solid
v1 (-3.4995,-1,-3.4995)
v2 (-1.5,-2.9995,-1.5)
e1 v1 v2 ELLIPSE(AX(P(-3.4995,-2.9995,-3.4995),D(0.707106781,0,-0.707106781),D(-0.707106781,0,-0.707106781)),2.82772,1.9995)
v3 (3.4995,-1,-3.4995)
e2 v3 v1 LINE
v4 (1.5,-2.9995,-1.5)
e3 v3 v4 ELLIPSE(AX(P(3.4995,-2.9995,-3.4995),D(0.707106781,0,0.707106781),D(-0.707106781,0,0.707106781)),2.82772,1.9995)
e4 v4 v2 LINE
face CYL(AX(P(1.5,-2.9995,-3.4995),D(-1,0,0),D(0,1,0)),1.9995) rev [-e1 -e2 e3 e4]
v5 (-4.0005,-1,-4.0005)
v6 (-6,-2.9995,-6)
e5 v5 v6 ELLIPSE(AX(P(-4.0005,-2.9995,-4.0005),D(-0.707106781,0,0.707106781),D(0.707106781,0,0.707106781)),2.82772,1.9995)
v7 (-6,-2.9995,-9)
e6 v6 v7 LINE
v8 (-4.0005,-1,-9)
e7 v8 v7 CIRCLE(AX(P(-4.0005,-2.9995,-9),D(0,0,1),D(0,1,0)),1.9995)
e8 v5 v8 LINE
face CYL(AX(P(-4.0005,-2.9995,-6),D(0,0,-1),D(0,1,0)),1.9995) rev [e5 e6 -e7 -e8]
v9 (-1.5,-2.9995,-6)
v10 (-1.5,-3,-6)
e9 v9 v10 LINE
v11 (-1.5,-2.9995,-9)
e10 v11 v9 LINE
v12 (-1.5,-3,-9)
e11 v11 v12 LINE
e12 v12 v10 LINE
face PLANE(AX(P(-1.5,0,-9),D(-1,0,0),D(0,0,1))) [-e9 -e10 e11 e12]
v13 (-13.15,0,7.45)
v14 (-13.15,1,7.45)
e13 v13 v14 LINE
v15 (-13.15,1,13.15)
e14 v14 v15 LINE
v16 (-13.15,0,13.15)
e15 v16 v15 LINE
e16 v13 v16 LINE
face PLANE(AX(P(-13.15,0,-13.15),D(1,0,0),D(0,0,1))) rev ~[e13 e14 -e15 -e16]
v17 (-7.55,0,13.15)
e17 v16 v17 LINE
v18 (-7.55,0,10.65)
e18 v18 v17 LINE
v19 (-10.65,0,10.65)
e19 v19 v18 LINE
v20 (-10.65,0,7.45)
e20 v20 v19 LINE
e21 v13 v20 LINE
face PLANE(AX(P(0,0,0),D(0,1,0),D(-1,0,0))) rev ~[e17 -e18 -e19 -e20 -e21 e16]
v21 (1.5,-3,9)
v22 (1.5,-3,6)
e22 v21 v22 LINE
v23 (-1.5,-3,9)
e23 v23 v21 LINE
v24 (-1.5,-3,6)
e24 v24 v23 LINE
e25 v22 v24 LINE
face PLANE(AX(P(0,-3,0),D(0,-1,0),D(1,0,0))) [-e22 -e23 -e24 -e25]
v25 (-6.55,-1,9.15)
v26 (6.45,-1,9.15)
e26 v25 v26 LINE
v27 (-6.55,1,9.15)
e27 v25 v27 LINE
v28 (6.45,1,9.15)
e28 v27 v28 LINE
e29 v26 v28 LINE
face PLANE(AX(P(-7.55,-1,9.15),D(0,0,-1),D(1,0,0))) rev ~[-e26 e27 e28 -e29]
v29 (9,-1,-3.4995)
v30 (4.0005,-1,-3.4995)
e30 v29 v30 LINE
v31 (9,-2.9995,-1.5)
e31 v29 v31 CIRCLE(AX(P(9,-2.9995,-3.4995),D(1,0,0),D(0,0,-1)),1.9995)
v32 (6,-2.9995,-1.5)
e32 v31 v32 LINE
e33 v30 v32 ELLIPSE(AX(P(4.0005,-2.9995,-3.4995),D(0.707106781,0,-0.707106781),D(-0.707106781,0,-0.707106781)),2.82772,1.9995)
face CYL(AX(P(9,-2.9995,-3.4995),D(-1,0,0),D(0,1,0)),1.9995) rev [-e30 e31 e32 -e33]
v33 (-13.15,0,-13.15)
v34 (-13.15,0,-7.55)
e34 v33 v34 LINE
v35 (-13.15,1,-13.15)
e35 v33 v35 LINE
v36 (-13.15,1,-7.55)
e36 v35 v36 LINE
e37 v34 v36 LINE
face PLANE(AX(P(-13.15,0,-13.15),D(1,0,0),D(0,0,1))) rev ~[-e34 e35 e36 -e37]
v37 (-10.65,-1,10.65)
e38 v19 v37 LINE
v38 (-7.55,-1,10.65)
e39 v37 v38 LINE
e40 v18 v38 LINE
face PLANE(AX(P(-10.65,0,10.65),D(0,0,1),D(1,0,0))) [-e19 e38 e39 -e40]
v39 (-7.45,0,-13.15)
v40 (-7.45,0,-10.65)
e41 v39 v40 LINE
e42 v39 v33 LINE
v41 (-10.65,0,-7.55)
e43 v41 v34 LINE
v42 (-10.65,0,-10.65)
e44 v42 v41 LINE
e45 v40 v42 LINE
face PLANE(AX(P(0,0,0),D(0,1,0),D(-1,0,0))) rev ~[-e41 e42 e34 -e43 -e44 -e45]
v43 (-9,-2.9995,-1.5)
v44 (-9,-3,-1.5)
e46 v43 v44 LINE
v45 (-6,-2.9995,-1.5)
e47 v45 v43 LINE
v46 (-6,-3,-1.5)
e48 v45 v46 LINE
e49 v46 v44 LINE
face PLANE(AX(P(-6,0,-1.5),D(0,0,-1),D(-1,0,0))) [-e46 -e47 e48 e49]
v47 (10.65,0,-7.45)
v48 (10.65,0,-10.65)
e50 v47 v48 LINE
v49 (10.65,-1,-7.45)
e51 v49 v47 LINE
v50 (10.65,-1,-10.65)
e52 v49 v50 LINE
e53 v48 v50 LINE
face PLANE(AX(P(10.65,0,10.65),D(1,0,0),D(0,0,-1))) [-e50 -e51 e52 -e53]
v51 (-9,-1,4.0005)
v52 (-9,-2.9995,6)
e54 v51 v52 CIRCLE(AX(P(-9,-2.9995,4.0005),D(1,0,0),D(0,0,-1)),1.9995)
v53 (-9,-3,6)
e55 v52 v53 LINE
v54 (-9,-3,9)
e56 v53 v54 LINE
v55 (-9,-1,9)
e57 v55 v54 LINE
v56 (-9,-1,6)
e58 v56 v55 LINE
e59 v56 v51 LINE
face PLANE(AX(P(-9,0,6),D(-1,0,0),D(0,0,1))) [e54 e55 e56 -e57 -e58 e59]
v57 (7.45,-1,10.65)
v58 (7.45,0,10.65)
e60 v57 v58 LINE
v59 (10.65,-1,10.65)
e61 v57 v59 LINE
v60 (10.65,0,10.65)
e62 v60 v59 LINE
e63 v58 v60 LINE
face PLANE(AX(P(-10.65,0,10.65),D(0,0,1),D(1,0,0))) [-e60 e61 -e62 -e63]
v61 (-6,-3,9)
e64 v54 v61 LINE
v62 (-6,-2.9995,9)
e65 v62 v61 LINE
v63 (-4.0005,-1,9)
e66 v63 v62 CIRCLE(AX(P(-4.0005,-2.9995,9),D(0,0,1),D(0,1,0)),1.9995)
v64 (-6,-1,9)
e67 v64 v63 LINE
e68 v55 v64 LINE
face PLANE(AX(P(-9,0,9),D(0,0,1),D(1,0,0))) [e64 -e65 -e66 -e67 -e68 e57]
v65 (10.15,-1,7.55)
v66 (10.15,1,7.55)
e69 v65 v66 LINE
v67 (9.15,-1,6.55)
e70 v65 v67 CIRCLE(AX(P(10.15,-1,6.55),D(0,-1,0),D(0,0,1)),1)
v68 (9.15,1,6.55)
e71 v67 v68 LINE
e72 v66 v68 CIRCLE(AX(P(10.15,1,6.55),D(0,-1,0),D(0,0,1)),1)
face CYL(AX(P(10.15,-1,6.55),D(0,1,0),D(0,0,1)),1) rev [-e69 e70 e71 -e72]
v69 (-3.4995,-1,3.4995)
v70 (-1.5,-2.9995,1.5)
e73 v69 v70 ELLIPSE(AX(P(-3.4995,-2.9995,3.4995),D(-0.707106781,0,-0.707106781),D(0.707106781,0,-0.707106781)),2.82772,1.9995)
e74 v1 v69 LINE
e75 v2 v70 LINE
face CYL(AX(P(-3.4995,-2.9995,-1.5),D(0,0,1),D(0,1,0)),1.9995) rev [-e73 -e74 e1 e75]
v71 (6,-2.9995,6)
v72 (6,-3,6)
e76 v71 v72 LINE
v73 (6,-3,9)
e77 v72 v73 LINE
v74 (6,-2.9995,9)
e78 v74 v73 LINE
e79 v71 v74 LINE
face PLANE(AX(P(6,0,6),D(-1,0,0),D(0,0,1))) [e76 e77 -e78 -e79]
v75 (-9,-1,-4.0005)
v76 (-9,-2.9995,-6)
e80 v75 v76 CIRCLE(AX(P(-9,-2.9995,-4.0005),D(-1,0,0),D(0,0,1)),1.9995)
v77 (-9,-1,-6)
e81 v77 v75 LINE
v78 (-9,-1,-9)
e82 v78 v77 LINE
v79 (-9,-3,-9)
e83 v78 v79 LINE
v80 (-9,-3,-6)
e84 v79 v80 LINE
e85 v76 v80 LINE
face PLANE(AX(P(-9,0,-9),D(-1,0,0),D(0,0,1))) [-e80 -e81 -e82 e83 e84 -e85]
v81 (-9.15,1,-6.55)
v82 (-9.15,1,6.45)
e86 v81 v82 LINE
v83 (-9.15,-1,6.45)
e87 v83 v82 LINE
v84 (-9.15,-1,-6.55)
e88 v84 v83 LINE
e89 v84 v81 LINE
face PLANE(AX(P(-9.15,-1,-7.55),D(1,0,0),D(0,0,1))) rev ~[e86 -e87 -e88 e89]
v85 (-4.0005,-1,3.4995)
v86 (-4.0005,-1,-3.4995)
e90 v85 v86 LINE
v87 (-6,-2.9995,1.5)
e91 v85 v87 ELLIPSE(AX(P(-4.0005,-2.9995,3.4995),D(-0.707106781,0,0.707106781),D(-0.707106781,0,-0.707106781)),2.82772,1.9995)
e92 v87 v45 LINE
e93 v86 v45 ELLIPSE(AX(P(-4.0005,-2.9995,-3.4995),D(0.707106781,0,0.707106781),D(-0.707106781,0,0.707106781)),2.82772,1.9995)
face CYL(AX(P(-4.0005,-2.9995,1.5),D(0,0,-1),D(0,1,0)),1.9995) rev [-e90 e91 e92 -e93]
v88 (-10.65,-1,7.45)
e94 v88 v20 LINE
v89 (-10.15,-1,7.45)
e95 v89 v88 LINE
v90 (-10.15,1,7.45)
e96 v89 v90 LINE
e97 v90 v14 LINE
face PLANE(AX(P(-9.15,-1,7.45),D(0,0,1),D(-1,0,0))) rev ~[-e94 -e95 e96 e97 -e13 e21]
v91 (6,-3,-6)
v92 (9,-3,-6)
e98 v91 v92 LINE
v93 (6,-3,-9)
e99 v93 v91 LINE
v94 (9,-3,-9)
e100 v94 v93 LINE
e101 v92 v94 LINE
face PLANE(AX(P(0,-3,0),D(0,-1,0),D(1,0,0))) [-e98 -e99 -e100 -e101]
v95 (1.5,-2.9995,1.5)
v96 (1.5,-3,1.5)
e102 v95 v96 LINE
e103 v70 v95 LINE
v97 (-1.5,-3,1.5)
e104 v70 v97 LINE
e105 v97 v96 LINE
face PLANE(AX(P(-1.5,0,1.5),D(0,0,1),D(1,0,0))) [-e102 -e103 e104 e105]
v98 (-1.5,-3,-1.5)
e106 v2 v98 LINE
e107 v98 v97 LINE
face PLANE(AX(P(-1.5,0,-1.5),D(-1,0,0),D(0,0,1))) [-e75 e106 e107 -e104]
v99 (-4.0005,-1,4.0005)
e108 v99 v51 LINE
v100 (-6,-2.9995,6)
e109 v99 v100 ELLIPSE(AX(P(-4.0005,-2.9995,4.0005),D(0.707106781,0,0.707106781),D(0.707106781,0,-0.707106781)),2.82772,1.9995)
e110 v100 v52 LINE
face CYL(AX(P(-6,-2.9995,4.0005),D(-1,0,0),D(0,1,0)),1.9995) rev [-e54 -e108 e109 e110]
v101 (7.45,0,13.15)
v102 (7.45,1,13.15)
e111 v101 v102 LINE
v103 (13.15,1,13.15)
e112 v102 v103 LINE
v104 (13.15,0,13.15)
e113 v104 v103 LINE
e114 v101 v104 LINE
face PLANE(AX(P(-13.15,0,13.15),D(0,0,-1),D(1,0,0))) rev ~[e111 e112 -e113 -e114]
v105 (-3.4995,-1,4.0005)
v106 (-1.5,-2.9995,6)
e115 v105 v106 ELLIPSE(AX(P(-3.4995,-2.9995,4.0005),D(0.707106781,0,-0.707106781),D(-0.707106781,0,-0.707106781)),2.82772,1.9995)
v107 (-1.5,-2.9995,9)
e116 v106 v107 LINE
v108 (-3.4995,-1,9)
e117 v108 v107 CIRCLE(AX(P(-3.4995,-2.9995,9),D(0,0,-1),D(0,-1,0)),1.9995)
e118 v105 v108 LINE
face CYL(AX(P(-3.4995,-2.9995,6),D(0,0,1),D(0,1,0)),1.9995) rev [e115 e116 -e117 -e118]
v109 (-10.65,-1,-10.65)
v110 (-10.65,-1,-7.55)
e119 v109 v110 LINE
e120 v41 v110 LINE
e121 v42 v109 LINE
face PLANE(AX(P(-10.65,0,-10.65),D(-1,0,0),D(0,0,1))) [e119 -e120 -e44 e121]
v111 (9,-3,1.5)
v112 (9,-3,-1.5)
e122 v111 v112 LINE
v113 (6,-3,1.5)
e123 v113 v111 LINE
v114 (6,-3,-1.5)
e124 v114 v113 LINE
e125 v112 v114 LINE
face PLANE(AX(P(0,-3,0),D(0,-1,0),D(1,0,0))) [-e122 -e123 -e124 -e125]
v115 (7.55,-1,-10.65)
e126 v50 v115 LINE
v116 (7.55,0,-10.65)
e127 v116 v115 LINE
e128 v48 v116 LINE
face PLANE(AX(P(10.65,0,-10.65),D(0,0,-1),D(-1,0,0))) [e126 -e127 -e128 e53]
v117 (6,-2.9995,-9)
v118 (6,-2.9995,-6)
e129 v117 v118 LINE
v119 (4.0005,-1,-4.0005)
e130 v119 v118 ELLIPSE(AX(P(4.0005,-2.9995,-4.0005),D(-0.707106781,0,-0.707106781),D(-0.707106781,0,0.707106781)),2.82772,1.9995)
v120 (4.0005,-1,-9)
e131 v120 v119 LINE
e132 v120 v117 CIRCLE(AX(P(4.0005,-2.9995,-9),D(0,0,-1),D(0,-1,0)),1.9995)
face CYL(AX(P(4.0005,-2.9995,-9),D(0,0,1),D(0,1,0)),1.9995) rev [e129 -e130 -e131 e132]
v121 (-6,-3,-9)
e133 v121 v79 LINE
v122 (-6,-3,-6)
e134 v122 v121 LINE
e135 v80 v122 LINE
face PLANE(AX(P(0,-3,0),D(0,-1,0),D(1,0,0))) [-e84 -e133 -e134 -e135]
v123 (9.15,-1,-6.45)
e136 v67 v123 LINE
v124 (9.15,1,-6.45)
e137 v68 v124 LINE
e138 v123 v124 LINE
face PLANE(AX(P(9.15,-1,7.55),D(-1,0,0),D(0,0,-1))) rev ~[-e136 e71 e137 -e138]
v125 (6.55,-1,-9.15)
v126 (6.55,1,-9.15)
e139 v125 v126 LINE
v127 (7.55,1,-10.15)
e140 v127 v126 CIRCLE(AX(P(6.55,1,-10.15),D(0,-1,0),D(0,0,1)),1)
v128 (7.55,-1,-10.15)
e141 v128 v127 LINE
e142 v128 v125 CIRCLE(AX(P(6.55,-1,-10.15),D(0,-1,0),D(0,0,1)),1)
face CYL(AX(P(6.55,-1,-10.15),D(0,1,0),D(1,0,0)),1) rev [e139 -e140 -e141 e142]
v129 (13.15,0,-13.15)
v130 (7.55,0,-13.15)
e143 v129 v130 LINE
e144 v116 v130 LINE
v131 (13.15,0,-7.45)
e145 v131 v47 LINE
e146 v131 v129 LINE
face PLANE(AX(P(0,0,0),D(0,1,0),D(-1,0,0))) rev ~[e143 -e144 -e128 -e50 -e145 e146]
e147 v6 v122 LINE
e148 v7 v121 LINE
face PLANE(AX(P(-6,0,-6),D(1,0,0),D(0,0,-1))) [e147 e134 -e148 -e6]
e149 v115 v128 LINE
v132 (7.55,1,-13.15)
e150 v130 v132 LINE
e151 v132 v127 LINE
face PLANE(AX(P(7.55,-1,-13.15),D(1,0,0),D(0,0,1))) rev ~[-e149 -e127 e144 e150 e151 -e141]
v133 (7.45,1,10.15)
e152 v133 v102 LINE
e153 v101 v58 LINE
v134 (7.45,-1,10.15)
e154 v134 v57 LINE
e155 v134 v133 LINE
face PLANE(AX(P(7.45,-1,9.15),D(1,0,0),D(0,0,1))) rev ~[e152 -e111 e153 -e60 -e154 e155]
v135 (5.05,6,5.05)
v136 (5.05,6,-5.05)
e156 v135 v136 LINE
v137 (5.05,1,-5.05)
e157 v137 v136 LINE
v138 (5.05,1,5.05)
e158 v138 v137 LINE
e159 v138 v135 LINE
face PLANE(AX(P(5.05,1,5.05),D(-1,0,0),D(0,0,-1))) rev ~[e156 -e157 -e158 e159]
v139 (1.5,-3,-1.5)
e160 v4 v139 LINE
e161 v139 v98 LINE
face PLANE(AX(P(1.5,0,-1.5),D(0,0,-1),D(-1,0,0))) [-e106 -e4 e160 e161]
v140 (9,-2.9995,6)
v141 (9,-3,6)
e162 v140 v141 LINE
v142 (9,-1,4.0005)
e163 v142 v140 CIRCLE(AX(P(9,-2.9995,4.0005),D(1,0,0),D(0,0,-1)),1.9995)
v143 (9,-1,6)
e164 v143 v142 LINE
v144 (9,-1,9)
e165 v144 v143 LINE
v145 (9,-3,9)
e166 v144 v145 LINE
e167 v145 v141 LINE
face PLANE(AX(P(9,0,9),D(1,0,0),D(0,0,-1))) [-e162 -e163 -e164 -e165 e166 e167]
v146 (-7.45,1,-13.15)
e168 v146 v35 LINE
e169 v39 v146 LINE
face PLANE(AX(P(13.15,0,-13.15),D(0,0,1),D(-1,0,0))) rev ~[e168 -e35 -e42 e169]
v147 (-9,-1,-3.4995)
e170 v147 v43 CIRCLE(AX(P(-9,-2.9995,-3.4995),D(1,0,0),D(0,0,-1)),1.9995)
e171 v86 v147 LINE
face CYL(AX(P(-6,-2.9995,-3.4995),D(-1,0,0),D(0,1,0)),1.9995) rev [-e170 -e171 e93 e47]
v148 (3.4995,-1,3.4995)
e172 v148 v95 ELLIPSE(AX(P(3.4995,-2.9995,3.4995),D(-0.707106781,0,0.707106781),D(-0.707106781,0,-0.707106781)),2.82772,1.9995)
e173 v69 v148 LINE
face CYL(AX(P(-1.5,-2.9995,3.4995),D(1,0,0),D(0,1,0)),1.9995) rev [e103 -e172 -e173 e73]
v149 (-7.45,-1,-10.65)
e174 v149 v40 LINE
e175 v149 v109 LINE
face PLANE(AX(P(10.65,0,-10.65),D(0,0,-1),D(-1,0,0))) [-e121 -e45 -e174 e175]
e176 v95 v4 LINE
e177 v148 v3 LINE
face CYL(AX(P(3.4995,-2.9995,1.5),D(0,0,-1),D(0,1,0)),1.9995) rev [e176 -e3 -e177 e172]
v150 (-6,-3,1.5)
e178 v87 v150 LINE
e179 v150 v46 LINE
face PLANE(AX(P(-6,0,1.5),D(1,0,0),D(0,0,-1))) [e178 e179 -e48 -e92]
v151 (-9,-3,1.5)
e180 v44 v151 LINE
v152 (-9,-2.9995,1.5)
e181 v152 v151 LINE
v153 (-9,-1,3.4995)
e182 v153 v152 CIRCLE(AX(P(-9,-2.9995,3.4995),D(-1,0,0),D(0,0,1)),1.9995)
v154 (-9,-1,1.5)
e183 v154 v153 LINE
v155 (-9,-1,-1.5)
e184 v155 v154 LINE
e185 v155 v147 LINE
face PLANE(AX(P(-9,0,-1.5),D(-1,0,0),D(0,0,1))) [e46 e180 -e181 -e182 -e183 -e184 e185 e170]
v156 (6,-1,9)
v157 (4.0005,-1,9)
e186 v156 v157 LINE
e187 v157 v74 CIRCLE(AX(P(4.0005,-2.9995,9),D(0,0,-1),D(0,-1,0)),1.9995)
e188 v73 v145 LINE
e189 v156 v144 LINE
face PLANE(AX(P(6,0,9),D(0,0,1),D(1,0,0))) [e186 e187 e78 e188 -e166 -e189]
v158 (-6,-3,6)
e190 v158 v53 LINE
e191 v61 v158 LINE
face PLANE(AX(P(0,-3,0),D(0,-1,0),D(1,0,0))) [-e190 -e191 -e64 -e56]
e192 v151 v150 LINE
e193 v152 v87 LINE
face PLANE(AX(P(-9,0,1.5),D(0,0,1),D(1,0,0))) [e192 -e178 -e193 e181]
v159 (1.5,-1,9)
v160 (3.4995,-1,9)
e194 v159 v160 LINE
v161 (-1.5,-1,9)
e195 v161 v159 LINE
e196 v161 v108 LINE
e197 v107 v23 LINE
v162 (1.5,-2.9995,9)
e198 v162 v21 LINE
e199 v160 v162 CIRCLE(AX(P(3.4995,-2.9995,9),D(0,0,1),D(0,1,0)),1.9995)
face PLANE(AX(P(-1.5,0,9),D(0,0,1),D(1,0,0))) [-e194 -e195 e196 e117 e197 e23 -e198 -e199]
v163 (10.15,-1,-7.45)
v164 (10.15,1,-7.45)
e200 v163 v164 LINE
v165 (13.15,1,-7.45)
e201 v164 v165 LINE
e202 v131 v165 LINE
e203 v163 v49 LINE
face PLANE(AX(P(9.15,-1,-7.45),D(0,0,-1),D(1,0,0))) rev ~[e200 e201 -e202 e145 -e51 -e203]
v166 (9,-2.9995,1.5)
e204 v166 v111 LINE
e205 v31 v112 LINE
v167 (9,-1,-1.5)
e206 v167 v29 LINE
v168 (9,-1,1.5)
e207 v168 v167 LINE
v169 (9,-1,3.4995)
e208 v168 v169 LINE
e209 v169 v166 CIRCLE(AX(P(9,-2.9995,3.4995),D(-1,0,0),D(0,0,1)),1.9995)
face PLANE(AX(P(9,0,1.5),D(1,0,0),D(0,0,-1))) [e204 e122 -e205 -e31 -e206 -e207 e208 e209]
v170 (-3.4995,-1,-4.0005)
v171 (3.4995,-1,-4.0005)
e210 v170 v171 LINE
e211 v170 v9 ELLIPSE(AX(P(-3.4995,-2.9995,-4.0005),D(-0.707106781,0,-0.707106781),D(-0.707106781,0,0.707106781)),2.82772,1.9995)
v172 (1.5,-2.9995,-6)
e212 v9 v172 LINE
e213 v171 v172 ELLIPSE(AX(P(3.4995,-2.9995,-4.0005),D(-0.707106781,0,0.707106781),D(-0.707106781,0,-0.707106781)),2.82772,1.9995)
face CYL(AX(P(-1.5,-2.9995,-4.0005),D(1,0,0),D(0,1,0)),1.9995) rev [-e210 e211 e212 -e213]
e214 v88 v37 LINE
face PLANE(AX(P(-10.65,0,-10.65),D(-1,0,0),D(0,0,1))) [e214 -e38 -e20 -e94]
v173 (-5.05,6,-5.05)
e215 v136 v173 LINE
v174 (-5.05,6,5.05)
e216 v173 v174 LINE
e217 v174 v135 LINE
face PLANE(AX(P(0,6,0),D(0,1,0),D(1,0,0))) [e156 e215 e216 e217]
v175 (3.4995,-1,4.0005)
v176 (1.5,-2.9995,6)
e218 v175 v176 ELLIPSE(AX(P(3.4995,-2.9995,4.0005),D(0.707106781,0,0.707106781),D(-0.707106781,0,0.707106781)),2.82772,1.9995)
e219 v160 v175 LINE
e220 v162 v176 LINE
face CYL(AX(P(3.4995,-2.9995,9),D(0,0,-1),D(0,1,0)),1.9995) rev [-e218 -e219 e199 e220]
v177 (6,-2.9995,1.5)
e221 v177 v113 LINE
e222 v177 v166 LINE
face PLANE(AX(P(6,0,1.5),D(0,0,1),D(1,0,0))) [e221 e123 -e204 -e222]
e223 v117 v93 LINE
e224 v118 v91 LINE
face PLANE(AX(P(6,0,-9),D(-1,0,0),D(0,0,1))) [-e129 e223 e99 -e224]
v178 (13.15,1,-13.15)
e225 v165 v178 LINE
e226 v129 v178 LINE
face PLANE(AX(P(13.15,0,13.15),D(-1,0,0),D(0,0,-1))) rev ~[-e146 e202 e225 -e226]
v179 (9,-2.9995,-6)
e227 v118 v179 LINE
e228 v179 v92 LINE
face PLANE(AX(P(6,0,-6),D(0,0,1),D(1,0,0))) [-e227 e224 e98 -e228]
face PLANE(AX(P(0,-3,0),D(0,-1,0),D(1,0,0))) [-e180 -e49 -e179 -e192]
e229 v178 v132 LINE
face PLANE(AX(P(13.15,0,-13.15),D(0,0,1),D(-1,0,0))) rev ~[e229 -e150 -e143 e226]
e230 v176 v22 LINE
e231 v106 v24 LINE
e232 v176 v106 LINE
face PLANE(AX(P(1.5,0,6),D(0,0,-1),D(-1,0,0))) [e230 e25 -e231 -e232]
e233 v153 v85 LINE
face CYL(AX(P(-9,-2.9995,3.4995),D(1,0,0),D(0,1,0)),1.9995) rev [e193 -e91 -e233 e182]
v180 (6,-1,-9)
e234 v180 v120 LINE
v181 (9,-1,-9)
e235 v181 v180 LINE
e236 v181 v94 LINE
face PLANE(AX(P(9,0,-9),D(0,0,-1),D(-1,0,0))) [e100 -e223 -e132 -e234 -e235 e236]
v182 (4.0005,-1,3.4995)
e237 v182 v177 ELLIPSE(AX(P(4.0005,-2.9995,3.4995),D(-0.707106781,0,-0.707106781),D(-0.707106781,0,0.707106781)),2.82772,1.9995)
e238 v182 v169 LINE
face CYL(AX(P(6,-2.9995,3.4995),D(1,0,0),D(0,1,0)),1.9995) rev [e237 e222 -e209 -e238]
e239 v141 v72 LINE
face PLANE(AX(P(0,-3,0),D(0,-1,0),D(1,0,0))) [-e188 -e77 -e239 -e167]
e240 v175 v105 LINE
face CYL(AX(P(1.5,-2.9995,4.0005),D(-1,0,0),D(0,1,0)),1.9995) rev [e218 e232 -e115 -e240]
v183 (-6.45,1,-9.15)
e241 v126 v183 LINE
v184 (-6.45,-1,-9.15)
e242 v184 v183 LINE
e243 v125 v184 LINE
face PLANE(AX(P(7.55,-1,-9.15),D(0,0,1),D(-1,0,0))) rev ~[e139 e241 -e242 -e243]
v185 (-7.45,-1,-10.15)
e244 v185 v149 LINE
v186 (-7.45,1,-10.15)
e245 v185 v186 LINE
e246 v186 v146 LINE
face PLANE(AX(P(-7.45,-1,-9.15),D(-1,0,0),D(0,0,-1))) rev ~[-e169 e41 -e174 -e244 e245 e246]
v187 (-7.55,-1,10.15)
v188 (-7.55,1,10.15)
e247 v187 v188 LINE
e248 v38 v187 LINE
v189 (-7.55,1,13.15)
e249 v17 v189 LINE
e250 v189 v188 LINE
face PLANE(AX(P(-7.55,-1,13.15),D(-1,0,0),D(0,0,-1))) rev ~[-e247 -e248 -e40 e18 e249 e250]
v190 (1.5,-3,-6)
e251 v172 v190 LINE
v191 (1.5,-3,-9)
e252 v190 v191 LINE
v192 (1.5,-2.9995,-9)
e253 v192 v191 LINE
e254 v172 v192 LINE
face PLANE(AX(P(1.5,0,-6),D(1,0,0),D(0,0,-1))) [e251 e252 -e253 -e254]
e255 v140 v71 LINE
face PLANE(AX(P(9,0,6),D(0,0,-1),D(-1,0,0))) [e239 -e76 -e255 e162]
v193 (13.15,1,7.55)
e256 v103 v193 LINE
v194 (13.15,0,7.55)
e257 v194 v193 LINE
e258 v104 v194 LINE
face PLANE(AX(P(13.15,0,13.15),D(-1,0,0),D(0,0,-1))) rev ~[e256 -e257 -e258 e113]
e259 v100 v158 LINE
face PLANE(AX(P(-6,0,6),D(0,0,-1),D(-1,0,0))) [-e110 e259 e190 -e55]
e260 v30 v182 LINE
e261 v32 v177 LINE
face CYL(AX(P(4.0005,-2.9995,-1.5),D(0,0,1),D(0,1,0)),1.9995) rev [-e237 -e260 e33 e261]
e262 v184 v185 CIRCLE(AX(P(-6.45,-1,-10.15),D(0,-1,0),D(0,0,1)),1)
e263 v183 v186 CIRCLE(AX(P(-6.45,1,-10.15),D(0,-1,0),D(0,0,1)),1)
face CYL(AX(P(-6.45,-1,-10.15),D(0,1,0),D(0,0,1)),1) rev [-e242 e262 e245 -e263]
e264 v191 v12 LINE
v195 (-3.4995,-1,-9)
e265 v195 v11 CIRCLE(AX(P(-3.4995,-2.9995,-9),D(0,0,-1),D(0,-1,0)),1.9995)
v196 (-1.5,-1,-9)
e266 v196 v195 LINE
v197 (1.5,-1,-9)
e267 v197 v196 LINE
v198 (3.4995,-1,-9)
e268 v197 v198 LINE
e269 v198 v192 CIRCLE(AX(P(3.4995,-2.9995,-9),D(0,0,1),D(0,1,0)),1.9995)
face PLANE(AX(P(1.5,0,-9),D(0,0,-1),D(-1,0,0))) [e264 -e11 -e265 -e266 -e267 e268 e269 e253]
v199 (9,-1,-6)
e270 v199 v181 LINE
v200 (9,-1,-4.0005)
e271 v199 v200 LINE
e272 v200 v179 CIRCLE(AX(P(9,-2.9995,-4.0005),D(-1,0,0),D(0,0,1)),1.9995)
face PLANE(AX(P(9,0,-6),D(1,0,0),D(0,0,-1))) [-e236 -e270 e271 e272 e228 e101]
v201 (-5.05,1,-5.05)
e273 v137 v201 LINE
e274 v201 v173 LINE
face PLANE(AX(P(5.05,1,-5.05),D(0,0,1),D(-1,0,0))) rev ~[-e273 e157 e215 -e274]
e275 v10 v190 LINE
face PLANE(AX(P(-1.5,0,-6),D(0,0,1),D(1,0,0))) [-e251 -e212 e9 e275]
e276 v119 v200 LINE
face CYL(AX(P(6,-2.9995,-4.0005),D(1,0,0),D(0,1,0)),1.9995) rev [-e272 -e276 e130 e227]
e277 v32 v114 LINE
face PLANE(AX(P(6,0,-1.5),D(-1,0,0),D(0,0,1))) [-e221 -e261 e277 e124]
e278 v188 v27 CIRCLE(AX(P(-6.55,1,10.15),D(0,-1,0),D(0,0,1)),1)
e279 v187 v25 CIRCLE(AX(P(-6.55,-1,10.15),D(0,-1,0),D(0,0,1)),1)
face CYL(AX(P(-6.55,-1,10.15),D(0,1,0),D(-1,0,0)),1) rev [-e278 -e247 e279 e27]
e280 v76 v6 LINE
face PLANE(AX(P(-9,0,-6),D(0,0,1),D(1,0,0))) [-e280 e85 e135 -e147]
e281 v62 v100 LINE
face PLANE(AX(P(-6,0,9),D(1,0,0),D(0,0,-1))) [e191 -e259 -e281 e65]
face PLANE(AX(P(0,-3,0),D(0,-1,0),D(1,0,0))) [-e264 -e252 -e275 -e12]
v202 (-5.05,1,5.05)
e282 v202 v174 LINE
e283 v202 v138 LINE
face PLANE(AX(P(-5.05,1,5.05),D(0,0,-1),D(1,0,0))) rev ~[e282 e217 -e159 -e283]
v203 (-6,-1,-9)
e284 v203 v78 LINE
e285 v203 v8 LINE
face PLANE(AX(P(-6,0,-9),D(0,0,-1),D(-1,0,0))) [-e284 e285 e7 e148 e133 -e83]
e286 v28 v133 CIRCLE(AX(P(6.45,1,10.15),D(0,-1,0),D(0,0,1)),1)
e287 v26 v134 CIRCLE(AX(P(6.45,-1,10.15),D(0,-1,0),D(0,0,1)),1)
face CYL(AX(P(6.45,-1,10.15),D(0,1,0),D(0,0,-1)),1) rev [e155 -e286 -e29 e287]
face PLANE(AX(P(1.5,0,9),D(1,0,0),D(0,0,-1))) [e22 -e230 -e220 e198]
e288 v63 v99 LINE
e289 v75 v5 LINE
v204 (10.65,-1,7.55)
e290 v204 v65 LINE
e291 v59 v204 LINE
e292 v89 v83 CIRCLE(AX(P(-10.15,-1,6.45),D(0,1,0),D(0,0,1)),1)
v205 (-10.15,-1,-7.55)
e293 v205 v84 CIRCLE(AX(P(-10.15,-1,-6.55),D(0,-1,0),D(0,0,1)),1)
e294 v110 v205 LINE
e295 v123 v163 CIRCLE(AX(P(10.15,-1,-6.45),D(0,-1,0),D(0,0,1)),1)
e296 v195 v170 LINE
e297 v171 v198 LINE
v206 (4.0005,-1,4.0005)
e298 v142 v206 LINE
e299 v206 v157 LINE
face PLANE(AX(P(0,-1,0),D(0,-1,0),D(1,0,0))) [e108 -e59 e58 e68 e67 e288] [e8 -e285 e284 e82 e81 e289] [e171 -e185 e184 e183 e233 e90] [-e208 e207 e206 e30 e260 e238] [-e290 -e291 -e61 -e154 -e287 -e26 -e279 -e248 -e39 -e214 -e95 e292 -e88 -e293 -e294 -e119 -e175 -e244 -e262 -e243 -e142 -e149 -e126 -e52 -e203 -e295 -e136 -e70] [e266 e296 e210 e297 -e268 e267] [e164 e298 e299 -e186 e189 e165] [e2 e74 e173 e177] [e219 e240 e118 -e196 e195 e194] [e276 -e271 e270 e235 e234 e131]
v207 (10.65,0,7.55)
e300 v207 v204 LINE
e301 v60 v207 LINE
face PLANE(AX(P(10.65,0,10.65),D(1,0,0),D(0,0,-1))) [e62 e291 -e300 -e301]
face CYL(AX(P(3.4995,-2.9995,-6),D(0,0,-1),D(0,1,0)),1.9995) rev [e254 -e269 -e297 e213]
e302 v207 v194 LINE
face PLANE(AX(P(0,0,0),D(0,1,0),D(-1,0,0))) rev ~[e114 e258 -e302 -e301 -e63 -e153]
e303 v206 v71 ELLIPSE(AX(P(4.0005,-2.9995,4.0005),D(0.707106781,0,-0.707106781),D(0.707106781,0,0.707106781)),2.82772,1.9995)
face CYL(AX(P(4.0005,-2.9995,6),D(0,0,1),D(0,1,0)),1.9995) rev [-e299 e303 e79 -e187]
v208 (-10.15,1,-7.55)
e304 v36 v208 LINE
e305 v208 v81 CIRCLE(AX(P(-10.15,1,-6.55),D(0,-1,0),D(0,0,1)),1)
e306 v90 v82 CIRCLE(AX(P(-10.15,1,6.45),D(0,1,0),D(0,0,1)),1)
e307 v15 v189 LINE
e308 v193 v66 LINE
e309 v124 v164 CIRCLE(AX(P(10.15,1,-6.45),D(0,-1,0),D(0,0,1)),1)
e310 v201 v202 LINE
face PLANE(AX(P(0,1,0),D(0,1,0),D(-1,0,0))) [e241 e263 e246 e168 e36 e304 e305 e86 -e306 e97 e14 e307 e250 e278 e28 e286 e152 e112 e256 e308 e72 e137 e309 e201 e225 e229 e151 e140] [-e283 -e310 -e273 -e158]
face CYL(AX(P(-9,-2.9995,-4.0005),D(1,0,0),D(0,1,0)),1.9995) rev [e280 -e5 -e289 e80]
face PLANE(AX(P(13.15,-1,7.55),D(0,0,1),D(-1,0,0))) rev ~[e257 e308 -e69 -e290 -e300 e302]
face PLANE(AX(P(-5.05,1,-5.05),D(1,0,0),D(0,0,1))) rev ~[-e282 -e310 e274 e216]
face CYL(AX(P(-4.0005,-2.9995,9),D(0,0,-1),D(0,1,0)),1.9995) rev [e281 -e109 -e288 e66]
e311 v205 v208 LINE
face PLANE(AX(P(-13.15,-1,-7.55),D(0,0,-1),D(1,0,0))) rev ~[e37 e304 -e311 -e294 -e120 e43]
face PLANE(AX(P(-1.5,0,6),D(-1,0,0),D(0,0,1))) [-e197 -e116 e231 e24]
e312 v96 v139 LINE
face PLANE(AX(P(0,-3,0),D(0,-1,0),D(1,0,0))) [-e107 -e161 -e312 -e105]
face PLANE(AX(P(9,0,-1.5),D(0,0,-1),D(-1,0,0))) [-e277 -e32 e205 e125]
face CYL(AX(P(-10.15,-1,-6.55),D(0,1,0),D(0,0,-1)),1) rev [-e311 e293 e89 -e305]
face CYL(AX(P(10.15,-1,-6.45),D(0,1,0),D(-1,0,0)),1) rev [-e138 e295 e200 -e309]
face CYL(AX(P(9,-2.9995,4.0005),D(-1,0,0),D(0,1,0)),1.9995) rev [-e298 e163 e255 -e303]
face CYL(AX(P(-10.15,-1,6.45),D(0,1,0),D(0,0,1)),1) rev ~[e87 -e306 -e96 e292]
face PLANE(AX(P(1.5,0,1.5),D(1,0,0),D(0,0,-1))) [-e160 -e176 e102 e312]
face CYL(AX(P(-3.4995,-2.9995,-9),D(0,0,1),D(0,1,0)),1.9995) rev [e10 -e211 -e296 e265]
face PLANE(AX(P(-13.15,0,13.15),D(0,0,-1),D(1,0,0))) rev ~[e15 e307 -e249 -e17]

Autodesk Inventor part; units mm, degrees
ref_plane "YZ Plane" through (0, 0, 0) normal (1, 0, 0) x (0, 1, 0)
ref_plane "XZ Plane" through (0, 0, 0) normal (0, 1, 0) x (-1, 0, 0)
ref_plane "XY Plane" through (0, 0, 0) normal (0, 0, 1) x (1, 0, 0)
sketch "Sketch1" plane through (0, 0, 0) normal (0, 1, 0) x (-1, 0, 0)
  line L0 (13.15, 13.15) -> (-13.15, 13.15)
  line L1 (-13.15, 13.15) -> (-13.15, -13.15)
  line L2 (-13.15, -13.15) -> (13.15, -13.15)
  line L3 (13.15, -13.15) -> (13.15, 13.15)
  line L4 (13.15, 13.15) -> (-13.15, -13.15) construction
  line L5 (-13.15, 13.15) -> (13.15, -13.15) construction
  point P0 (0, 0)
  dimension "d0" = 26.3
  dimension "d1" = 26.3
extrude "Extrusion1" add sketch "Sketch1" along normal blind 1
sketch "Sketch3" plane through (0, 0, 0) normal (0, -1, 0) x (1, 0, 0)
  line L0 (-10.75, -10.75) -> (10.75, -10.75) construction
  line L1 (10.75, -10.75) -> (10.75, 10.75) construction
  line L2 (10.75, 10.75) -> (-10.75, 10.75) construction
  line L3 (-10.75, 10.75) -> (-10.75, -10.75) construction
  line L4 (-10.75, -10.75) -> (10.75, 10.75) construction
  line L5 (10.75, -10.75) -> (-10.75, 10.75) construction
  line L6 (-10.75, 10.75) -> (-4.25, 10.75) construction
  line L7 (-4.25, 10.75) -> (-4.25, 4.25) construction
  line L8 (-4.25, 4.25) -> (-10.75, 4.25) construction
  line L9 (-10.75, 4.25) -> (-10.75, 10.75) construction
  line L10 (-6, 6) -> (-9, 6)
  line L11 (-9, 6) -> (-9, 9)
  line L12 (-9, 9) -> (-6, 9)
  line L13 (-6, 9) -> (-6, 6)
  line L14 (-6, 6) -> (-9, 9) construction
  line L15 (-9, 6) -> (-6, 9) construction
  line L16 (-1.5, 9) -> (1.5, 9)
  line L17 (-1.5, 6) -> (-1.5, 9)
  line L18 (1.5, 6) -> (-1.5, 6)
  line L19 (1.5, 9) -> (1.5, 6)
  line L20 (6, 9) -> (9, 9)
  line L21 (6, 6) -> (6, 9)
  line L22 (9, 6) -> (6, 6)
  line L23 (9, 9) -> (9, 6)
  line L24 (-9, 1.5) -> (-6, 1.5)
  line L25 (-9, -1.5) -> (-9, 1.5)
  line L26 (-6, -1.5) -> (-9, -1.5)
  line L27 (-6, 1.5) -> (-6, -1.5)
  line L28 (-1.5, 1.5) -> (1.5, 1.5)
  line L29 (-1.5, -1.5) -> (-1.5, 1.5)
  line L30 (1.5, -1.5) -> (-1.5, -1.5)
  line L31 (1.5, 1.5) -> (1.5, -1.5)
  line L32 (6, 1.5) -> (9, 1.5)
  line L33 (6, -1.5) -> (6, 1.5)
  line L34 (9, -1.5) -> (6, -1.5)
  line L35 (9, 1.5) -> (9, -1.5)
  line L36 (-9, -6) -> (-6, -6)
  line L37 (-9, -9) -> (-9, -6)
  line L38 (-6, -9) -> (-9, -9)
  line L39 (-6, -6) -> (-6, -9)
  line L40 (-1.5, -6) -> (1.5, -6)
  line L41 (-1.5, -9) -> (-1.5, -6)
  line L42 (1.5, -9) -> (-1.5, -9)
  line L43 (1.5, -6) -> (1.5, -9)
  line L44 (6, -6) -> (9, -6)
  line L45 (6, -9) -> (6, -6)
  line L46 (9, -9) -> (6, -9)
  line L47 (9, -6) -> (9, -9)
  point P0 (0, 0)
  point P1 (-7.5, 7.5)
  dimension "d8" = 21.5
  dimension "d9" = 6.5
  dimension "d10" = 6.5
  dimension "d11" = 3
  dimension "d12" = 3.25
  dimension "d15" = 7.5
  dimension "d18" = 7.5
extrude "Extrusion3" add sketch "Sketch3" along normal blind 3
sketch "Sketch5" plane through (0, 1, 0) normal (0, 1, 0) x (1, 0, 0)
  line L0 (-5.05, -5.05) -> (5.05, -5.05)
  line L1 (5.05, -5.05) -> (5.05, 5.05)
  line L2 (5.05, 5.05) -> (-5.05, 5.05)
  line L3 (-5.05, 5.05) -> (-5.05, -5.05)
  line L4 (-5.05, -5.05) -> (5.05, 5.05) construction
  line L5 (5.05, -5.05) -> (-5.05, 5.05) construction
  point P0 (0, 0)
  dimension "d23" = 10.1
  dimension "d24" = 10.1
extrude "Extrusion4" add sketch "Sketch5" along normal blind 5
sketch "Sketch6" plane through (0, 0, 0) normal (0, -1, 0) x (1, 0, 0)
  line L0 (-10.65, 10.65) -> (10.65, 10.65)
  line L1 (10.65, 10.65) -> (10.65, -10.65)
  line L2 (10.65, -10.65) -> (-10.65, -10.65)
  line L3 (-10.65, -10.65) -> (-10.65, 10.65)
  line L4 (-10.65, 10.65) -> (10.65, -10.65) construction
  line L5 (10.65, 10.65) -> (-10.65, -10.65) construction
  point P0 (0, 0)
  dimension "d27" = 21.3
  dimension "d28" = 21.3
extrude "Extrusion5" add sketch "Sketch6" along normal blind 1
sketch "Sketch7" plane through (0, -1, 0) normal (0, -1, 0) x (1, 0, 0)
  line L0 (-13.15, 13.15) -> (13.15, 13.15) projected
  line L1 (-7.55, 9.15) -> (7.45, 9.15)
  line L2 (7.45, 9.15) -> (7.45, 13.15)
  line L3 (7.45, 13.15) -> (-7.55, 13.15)
  line L4 (-7.55, 13.15) -> (-7.55, 9.15)
  line L5 (-7.55, 9.15) -> (7.45, 13.15) construction
  line L6 (7.45, 9.15) -> (-7.55, 13.15) construction
  line L7 (-9.15, 7.45) -> (-13.15, 7.45)
  line L8 (-13.15, 7.45) -> (-13.15, -7.55)
  line L9 (-9.15, -7.55) -> (-9.15, 7.45)
  line L10 (-13.15, -7.55) -> (-9.15, -7.55)
  line L11 (-7.45, -9.15) -> (-7.45, -13.15)
  line L12 (-7.45, -13.15) -> (7.55, -13.15)
  line L13 (7.55, -9.15) -> (-7.45, -9.15)
  line L14 (7.55, -13.15) -> (7.55, -9.15)
  line L15 (9.15, -7.45) -> (13.15, -7.45)
  line L16 (13.15, -7.45) -> (13.15, 7.55)
  line L17 (9.15, 7.55) -> (9.15, -7.45)
  line L18 (13.15, 7.55) -> (9.15, 7.55)
  point P0 (0, 0)
  point P1 (-0.05, 11.15)
  dimension "d31" = 4
  dimension "d32" = 15
  dimension "d37" = 360
extrude "Extrusion6" cut sketch "Sketch7" against normal up to surface (2 mm away)
fillet "Fillet1" radius 1 8 edges at (9.15, 0, -7.45) (9.15, 0, 7.55) (-9.15, 0, -7.55) (-9.15, 0, 7.45) (-7.55, 0, 9.15) (7.45, 0, 9.15) (7.55, 0, -9.15) (-7.45, 0, -9.15)
fillet "Fillet2" radius 2 24 edges at (-7.5, -1, -1.5) (0, -1, -1.5) (7.5, -1, -1.5) (6, -1, -7.5) (-1.5, -1, -7.5) (-7.5, -1, -6) (-6, -1, -7.5) (1.5, -1, -7.5) (0, -1, -6) (1.5, -1, 0) (0, -1, 1.5) (-6, -1, 0) (-1.5, -1, 0) (-7.5, -1, 1.5) (-6, -1, 7.5) (-7.5, -1, 6) (0, -1, 6) (1.5, -1, 7.5) (-1.5, -1, 7.5) (6, -1, 7.5) (6, -1, 0) (7.5, -1, 6) (7.5, -1, 1.5) (7.5, -1, -6)
equation "\"d1\" = d0"
equation "\"d10\" = d9"
equation "\"d12\" = 0.5 * d9"
equation "\"d24\" = d23"
equation "\"d28\" = d27"
properties part number "sensor_holder_3DPrint"
